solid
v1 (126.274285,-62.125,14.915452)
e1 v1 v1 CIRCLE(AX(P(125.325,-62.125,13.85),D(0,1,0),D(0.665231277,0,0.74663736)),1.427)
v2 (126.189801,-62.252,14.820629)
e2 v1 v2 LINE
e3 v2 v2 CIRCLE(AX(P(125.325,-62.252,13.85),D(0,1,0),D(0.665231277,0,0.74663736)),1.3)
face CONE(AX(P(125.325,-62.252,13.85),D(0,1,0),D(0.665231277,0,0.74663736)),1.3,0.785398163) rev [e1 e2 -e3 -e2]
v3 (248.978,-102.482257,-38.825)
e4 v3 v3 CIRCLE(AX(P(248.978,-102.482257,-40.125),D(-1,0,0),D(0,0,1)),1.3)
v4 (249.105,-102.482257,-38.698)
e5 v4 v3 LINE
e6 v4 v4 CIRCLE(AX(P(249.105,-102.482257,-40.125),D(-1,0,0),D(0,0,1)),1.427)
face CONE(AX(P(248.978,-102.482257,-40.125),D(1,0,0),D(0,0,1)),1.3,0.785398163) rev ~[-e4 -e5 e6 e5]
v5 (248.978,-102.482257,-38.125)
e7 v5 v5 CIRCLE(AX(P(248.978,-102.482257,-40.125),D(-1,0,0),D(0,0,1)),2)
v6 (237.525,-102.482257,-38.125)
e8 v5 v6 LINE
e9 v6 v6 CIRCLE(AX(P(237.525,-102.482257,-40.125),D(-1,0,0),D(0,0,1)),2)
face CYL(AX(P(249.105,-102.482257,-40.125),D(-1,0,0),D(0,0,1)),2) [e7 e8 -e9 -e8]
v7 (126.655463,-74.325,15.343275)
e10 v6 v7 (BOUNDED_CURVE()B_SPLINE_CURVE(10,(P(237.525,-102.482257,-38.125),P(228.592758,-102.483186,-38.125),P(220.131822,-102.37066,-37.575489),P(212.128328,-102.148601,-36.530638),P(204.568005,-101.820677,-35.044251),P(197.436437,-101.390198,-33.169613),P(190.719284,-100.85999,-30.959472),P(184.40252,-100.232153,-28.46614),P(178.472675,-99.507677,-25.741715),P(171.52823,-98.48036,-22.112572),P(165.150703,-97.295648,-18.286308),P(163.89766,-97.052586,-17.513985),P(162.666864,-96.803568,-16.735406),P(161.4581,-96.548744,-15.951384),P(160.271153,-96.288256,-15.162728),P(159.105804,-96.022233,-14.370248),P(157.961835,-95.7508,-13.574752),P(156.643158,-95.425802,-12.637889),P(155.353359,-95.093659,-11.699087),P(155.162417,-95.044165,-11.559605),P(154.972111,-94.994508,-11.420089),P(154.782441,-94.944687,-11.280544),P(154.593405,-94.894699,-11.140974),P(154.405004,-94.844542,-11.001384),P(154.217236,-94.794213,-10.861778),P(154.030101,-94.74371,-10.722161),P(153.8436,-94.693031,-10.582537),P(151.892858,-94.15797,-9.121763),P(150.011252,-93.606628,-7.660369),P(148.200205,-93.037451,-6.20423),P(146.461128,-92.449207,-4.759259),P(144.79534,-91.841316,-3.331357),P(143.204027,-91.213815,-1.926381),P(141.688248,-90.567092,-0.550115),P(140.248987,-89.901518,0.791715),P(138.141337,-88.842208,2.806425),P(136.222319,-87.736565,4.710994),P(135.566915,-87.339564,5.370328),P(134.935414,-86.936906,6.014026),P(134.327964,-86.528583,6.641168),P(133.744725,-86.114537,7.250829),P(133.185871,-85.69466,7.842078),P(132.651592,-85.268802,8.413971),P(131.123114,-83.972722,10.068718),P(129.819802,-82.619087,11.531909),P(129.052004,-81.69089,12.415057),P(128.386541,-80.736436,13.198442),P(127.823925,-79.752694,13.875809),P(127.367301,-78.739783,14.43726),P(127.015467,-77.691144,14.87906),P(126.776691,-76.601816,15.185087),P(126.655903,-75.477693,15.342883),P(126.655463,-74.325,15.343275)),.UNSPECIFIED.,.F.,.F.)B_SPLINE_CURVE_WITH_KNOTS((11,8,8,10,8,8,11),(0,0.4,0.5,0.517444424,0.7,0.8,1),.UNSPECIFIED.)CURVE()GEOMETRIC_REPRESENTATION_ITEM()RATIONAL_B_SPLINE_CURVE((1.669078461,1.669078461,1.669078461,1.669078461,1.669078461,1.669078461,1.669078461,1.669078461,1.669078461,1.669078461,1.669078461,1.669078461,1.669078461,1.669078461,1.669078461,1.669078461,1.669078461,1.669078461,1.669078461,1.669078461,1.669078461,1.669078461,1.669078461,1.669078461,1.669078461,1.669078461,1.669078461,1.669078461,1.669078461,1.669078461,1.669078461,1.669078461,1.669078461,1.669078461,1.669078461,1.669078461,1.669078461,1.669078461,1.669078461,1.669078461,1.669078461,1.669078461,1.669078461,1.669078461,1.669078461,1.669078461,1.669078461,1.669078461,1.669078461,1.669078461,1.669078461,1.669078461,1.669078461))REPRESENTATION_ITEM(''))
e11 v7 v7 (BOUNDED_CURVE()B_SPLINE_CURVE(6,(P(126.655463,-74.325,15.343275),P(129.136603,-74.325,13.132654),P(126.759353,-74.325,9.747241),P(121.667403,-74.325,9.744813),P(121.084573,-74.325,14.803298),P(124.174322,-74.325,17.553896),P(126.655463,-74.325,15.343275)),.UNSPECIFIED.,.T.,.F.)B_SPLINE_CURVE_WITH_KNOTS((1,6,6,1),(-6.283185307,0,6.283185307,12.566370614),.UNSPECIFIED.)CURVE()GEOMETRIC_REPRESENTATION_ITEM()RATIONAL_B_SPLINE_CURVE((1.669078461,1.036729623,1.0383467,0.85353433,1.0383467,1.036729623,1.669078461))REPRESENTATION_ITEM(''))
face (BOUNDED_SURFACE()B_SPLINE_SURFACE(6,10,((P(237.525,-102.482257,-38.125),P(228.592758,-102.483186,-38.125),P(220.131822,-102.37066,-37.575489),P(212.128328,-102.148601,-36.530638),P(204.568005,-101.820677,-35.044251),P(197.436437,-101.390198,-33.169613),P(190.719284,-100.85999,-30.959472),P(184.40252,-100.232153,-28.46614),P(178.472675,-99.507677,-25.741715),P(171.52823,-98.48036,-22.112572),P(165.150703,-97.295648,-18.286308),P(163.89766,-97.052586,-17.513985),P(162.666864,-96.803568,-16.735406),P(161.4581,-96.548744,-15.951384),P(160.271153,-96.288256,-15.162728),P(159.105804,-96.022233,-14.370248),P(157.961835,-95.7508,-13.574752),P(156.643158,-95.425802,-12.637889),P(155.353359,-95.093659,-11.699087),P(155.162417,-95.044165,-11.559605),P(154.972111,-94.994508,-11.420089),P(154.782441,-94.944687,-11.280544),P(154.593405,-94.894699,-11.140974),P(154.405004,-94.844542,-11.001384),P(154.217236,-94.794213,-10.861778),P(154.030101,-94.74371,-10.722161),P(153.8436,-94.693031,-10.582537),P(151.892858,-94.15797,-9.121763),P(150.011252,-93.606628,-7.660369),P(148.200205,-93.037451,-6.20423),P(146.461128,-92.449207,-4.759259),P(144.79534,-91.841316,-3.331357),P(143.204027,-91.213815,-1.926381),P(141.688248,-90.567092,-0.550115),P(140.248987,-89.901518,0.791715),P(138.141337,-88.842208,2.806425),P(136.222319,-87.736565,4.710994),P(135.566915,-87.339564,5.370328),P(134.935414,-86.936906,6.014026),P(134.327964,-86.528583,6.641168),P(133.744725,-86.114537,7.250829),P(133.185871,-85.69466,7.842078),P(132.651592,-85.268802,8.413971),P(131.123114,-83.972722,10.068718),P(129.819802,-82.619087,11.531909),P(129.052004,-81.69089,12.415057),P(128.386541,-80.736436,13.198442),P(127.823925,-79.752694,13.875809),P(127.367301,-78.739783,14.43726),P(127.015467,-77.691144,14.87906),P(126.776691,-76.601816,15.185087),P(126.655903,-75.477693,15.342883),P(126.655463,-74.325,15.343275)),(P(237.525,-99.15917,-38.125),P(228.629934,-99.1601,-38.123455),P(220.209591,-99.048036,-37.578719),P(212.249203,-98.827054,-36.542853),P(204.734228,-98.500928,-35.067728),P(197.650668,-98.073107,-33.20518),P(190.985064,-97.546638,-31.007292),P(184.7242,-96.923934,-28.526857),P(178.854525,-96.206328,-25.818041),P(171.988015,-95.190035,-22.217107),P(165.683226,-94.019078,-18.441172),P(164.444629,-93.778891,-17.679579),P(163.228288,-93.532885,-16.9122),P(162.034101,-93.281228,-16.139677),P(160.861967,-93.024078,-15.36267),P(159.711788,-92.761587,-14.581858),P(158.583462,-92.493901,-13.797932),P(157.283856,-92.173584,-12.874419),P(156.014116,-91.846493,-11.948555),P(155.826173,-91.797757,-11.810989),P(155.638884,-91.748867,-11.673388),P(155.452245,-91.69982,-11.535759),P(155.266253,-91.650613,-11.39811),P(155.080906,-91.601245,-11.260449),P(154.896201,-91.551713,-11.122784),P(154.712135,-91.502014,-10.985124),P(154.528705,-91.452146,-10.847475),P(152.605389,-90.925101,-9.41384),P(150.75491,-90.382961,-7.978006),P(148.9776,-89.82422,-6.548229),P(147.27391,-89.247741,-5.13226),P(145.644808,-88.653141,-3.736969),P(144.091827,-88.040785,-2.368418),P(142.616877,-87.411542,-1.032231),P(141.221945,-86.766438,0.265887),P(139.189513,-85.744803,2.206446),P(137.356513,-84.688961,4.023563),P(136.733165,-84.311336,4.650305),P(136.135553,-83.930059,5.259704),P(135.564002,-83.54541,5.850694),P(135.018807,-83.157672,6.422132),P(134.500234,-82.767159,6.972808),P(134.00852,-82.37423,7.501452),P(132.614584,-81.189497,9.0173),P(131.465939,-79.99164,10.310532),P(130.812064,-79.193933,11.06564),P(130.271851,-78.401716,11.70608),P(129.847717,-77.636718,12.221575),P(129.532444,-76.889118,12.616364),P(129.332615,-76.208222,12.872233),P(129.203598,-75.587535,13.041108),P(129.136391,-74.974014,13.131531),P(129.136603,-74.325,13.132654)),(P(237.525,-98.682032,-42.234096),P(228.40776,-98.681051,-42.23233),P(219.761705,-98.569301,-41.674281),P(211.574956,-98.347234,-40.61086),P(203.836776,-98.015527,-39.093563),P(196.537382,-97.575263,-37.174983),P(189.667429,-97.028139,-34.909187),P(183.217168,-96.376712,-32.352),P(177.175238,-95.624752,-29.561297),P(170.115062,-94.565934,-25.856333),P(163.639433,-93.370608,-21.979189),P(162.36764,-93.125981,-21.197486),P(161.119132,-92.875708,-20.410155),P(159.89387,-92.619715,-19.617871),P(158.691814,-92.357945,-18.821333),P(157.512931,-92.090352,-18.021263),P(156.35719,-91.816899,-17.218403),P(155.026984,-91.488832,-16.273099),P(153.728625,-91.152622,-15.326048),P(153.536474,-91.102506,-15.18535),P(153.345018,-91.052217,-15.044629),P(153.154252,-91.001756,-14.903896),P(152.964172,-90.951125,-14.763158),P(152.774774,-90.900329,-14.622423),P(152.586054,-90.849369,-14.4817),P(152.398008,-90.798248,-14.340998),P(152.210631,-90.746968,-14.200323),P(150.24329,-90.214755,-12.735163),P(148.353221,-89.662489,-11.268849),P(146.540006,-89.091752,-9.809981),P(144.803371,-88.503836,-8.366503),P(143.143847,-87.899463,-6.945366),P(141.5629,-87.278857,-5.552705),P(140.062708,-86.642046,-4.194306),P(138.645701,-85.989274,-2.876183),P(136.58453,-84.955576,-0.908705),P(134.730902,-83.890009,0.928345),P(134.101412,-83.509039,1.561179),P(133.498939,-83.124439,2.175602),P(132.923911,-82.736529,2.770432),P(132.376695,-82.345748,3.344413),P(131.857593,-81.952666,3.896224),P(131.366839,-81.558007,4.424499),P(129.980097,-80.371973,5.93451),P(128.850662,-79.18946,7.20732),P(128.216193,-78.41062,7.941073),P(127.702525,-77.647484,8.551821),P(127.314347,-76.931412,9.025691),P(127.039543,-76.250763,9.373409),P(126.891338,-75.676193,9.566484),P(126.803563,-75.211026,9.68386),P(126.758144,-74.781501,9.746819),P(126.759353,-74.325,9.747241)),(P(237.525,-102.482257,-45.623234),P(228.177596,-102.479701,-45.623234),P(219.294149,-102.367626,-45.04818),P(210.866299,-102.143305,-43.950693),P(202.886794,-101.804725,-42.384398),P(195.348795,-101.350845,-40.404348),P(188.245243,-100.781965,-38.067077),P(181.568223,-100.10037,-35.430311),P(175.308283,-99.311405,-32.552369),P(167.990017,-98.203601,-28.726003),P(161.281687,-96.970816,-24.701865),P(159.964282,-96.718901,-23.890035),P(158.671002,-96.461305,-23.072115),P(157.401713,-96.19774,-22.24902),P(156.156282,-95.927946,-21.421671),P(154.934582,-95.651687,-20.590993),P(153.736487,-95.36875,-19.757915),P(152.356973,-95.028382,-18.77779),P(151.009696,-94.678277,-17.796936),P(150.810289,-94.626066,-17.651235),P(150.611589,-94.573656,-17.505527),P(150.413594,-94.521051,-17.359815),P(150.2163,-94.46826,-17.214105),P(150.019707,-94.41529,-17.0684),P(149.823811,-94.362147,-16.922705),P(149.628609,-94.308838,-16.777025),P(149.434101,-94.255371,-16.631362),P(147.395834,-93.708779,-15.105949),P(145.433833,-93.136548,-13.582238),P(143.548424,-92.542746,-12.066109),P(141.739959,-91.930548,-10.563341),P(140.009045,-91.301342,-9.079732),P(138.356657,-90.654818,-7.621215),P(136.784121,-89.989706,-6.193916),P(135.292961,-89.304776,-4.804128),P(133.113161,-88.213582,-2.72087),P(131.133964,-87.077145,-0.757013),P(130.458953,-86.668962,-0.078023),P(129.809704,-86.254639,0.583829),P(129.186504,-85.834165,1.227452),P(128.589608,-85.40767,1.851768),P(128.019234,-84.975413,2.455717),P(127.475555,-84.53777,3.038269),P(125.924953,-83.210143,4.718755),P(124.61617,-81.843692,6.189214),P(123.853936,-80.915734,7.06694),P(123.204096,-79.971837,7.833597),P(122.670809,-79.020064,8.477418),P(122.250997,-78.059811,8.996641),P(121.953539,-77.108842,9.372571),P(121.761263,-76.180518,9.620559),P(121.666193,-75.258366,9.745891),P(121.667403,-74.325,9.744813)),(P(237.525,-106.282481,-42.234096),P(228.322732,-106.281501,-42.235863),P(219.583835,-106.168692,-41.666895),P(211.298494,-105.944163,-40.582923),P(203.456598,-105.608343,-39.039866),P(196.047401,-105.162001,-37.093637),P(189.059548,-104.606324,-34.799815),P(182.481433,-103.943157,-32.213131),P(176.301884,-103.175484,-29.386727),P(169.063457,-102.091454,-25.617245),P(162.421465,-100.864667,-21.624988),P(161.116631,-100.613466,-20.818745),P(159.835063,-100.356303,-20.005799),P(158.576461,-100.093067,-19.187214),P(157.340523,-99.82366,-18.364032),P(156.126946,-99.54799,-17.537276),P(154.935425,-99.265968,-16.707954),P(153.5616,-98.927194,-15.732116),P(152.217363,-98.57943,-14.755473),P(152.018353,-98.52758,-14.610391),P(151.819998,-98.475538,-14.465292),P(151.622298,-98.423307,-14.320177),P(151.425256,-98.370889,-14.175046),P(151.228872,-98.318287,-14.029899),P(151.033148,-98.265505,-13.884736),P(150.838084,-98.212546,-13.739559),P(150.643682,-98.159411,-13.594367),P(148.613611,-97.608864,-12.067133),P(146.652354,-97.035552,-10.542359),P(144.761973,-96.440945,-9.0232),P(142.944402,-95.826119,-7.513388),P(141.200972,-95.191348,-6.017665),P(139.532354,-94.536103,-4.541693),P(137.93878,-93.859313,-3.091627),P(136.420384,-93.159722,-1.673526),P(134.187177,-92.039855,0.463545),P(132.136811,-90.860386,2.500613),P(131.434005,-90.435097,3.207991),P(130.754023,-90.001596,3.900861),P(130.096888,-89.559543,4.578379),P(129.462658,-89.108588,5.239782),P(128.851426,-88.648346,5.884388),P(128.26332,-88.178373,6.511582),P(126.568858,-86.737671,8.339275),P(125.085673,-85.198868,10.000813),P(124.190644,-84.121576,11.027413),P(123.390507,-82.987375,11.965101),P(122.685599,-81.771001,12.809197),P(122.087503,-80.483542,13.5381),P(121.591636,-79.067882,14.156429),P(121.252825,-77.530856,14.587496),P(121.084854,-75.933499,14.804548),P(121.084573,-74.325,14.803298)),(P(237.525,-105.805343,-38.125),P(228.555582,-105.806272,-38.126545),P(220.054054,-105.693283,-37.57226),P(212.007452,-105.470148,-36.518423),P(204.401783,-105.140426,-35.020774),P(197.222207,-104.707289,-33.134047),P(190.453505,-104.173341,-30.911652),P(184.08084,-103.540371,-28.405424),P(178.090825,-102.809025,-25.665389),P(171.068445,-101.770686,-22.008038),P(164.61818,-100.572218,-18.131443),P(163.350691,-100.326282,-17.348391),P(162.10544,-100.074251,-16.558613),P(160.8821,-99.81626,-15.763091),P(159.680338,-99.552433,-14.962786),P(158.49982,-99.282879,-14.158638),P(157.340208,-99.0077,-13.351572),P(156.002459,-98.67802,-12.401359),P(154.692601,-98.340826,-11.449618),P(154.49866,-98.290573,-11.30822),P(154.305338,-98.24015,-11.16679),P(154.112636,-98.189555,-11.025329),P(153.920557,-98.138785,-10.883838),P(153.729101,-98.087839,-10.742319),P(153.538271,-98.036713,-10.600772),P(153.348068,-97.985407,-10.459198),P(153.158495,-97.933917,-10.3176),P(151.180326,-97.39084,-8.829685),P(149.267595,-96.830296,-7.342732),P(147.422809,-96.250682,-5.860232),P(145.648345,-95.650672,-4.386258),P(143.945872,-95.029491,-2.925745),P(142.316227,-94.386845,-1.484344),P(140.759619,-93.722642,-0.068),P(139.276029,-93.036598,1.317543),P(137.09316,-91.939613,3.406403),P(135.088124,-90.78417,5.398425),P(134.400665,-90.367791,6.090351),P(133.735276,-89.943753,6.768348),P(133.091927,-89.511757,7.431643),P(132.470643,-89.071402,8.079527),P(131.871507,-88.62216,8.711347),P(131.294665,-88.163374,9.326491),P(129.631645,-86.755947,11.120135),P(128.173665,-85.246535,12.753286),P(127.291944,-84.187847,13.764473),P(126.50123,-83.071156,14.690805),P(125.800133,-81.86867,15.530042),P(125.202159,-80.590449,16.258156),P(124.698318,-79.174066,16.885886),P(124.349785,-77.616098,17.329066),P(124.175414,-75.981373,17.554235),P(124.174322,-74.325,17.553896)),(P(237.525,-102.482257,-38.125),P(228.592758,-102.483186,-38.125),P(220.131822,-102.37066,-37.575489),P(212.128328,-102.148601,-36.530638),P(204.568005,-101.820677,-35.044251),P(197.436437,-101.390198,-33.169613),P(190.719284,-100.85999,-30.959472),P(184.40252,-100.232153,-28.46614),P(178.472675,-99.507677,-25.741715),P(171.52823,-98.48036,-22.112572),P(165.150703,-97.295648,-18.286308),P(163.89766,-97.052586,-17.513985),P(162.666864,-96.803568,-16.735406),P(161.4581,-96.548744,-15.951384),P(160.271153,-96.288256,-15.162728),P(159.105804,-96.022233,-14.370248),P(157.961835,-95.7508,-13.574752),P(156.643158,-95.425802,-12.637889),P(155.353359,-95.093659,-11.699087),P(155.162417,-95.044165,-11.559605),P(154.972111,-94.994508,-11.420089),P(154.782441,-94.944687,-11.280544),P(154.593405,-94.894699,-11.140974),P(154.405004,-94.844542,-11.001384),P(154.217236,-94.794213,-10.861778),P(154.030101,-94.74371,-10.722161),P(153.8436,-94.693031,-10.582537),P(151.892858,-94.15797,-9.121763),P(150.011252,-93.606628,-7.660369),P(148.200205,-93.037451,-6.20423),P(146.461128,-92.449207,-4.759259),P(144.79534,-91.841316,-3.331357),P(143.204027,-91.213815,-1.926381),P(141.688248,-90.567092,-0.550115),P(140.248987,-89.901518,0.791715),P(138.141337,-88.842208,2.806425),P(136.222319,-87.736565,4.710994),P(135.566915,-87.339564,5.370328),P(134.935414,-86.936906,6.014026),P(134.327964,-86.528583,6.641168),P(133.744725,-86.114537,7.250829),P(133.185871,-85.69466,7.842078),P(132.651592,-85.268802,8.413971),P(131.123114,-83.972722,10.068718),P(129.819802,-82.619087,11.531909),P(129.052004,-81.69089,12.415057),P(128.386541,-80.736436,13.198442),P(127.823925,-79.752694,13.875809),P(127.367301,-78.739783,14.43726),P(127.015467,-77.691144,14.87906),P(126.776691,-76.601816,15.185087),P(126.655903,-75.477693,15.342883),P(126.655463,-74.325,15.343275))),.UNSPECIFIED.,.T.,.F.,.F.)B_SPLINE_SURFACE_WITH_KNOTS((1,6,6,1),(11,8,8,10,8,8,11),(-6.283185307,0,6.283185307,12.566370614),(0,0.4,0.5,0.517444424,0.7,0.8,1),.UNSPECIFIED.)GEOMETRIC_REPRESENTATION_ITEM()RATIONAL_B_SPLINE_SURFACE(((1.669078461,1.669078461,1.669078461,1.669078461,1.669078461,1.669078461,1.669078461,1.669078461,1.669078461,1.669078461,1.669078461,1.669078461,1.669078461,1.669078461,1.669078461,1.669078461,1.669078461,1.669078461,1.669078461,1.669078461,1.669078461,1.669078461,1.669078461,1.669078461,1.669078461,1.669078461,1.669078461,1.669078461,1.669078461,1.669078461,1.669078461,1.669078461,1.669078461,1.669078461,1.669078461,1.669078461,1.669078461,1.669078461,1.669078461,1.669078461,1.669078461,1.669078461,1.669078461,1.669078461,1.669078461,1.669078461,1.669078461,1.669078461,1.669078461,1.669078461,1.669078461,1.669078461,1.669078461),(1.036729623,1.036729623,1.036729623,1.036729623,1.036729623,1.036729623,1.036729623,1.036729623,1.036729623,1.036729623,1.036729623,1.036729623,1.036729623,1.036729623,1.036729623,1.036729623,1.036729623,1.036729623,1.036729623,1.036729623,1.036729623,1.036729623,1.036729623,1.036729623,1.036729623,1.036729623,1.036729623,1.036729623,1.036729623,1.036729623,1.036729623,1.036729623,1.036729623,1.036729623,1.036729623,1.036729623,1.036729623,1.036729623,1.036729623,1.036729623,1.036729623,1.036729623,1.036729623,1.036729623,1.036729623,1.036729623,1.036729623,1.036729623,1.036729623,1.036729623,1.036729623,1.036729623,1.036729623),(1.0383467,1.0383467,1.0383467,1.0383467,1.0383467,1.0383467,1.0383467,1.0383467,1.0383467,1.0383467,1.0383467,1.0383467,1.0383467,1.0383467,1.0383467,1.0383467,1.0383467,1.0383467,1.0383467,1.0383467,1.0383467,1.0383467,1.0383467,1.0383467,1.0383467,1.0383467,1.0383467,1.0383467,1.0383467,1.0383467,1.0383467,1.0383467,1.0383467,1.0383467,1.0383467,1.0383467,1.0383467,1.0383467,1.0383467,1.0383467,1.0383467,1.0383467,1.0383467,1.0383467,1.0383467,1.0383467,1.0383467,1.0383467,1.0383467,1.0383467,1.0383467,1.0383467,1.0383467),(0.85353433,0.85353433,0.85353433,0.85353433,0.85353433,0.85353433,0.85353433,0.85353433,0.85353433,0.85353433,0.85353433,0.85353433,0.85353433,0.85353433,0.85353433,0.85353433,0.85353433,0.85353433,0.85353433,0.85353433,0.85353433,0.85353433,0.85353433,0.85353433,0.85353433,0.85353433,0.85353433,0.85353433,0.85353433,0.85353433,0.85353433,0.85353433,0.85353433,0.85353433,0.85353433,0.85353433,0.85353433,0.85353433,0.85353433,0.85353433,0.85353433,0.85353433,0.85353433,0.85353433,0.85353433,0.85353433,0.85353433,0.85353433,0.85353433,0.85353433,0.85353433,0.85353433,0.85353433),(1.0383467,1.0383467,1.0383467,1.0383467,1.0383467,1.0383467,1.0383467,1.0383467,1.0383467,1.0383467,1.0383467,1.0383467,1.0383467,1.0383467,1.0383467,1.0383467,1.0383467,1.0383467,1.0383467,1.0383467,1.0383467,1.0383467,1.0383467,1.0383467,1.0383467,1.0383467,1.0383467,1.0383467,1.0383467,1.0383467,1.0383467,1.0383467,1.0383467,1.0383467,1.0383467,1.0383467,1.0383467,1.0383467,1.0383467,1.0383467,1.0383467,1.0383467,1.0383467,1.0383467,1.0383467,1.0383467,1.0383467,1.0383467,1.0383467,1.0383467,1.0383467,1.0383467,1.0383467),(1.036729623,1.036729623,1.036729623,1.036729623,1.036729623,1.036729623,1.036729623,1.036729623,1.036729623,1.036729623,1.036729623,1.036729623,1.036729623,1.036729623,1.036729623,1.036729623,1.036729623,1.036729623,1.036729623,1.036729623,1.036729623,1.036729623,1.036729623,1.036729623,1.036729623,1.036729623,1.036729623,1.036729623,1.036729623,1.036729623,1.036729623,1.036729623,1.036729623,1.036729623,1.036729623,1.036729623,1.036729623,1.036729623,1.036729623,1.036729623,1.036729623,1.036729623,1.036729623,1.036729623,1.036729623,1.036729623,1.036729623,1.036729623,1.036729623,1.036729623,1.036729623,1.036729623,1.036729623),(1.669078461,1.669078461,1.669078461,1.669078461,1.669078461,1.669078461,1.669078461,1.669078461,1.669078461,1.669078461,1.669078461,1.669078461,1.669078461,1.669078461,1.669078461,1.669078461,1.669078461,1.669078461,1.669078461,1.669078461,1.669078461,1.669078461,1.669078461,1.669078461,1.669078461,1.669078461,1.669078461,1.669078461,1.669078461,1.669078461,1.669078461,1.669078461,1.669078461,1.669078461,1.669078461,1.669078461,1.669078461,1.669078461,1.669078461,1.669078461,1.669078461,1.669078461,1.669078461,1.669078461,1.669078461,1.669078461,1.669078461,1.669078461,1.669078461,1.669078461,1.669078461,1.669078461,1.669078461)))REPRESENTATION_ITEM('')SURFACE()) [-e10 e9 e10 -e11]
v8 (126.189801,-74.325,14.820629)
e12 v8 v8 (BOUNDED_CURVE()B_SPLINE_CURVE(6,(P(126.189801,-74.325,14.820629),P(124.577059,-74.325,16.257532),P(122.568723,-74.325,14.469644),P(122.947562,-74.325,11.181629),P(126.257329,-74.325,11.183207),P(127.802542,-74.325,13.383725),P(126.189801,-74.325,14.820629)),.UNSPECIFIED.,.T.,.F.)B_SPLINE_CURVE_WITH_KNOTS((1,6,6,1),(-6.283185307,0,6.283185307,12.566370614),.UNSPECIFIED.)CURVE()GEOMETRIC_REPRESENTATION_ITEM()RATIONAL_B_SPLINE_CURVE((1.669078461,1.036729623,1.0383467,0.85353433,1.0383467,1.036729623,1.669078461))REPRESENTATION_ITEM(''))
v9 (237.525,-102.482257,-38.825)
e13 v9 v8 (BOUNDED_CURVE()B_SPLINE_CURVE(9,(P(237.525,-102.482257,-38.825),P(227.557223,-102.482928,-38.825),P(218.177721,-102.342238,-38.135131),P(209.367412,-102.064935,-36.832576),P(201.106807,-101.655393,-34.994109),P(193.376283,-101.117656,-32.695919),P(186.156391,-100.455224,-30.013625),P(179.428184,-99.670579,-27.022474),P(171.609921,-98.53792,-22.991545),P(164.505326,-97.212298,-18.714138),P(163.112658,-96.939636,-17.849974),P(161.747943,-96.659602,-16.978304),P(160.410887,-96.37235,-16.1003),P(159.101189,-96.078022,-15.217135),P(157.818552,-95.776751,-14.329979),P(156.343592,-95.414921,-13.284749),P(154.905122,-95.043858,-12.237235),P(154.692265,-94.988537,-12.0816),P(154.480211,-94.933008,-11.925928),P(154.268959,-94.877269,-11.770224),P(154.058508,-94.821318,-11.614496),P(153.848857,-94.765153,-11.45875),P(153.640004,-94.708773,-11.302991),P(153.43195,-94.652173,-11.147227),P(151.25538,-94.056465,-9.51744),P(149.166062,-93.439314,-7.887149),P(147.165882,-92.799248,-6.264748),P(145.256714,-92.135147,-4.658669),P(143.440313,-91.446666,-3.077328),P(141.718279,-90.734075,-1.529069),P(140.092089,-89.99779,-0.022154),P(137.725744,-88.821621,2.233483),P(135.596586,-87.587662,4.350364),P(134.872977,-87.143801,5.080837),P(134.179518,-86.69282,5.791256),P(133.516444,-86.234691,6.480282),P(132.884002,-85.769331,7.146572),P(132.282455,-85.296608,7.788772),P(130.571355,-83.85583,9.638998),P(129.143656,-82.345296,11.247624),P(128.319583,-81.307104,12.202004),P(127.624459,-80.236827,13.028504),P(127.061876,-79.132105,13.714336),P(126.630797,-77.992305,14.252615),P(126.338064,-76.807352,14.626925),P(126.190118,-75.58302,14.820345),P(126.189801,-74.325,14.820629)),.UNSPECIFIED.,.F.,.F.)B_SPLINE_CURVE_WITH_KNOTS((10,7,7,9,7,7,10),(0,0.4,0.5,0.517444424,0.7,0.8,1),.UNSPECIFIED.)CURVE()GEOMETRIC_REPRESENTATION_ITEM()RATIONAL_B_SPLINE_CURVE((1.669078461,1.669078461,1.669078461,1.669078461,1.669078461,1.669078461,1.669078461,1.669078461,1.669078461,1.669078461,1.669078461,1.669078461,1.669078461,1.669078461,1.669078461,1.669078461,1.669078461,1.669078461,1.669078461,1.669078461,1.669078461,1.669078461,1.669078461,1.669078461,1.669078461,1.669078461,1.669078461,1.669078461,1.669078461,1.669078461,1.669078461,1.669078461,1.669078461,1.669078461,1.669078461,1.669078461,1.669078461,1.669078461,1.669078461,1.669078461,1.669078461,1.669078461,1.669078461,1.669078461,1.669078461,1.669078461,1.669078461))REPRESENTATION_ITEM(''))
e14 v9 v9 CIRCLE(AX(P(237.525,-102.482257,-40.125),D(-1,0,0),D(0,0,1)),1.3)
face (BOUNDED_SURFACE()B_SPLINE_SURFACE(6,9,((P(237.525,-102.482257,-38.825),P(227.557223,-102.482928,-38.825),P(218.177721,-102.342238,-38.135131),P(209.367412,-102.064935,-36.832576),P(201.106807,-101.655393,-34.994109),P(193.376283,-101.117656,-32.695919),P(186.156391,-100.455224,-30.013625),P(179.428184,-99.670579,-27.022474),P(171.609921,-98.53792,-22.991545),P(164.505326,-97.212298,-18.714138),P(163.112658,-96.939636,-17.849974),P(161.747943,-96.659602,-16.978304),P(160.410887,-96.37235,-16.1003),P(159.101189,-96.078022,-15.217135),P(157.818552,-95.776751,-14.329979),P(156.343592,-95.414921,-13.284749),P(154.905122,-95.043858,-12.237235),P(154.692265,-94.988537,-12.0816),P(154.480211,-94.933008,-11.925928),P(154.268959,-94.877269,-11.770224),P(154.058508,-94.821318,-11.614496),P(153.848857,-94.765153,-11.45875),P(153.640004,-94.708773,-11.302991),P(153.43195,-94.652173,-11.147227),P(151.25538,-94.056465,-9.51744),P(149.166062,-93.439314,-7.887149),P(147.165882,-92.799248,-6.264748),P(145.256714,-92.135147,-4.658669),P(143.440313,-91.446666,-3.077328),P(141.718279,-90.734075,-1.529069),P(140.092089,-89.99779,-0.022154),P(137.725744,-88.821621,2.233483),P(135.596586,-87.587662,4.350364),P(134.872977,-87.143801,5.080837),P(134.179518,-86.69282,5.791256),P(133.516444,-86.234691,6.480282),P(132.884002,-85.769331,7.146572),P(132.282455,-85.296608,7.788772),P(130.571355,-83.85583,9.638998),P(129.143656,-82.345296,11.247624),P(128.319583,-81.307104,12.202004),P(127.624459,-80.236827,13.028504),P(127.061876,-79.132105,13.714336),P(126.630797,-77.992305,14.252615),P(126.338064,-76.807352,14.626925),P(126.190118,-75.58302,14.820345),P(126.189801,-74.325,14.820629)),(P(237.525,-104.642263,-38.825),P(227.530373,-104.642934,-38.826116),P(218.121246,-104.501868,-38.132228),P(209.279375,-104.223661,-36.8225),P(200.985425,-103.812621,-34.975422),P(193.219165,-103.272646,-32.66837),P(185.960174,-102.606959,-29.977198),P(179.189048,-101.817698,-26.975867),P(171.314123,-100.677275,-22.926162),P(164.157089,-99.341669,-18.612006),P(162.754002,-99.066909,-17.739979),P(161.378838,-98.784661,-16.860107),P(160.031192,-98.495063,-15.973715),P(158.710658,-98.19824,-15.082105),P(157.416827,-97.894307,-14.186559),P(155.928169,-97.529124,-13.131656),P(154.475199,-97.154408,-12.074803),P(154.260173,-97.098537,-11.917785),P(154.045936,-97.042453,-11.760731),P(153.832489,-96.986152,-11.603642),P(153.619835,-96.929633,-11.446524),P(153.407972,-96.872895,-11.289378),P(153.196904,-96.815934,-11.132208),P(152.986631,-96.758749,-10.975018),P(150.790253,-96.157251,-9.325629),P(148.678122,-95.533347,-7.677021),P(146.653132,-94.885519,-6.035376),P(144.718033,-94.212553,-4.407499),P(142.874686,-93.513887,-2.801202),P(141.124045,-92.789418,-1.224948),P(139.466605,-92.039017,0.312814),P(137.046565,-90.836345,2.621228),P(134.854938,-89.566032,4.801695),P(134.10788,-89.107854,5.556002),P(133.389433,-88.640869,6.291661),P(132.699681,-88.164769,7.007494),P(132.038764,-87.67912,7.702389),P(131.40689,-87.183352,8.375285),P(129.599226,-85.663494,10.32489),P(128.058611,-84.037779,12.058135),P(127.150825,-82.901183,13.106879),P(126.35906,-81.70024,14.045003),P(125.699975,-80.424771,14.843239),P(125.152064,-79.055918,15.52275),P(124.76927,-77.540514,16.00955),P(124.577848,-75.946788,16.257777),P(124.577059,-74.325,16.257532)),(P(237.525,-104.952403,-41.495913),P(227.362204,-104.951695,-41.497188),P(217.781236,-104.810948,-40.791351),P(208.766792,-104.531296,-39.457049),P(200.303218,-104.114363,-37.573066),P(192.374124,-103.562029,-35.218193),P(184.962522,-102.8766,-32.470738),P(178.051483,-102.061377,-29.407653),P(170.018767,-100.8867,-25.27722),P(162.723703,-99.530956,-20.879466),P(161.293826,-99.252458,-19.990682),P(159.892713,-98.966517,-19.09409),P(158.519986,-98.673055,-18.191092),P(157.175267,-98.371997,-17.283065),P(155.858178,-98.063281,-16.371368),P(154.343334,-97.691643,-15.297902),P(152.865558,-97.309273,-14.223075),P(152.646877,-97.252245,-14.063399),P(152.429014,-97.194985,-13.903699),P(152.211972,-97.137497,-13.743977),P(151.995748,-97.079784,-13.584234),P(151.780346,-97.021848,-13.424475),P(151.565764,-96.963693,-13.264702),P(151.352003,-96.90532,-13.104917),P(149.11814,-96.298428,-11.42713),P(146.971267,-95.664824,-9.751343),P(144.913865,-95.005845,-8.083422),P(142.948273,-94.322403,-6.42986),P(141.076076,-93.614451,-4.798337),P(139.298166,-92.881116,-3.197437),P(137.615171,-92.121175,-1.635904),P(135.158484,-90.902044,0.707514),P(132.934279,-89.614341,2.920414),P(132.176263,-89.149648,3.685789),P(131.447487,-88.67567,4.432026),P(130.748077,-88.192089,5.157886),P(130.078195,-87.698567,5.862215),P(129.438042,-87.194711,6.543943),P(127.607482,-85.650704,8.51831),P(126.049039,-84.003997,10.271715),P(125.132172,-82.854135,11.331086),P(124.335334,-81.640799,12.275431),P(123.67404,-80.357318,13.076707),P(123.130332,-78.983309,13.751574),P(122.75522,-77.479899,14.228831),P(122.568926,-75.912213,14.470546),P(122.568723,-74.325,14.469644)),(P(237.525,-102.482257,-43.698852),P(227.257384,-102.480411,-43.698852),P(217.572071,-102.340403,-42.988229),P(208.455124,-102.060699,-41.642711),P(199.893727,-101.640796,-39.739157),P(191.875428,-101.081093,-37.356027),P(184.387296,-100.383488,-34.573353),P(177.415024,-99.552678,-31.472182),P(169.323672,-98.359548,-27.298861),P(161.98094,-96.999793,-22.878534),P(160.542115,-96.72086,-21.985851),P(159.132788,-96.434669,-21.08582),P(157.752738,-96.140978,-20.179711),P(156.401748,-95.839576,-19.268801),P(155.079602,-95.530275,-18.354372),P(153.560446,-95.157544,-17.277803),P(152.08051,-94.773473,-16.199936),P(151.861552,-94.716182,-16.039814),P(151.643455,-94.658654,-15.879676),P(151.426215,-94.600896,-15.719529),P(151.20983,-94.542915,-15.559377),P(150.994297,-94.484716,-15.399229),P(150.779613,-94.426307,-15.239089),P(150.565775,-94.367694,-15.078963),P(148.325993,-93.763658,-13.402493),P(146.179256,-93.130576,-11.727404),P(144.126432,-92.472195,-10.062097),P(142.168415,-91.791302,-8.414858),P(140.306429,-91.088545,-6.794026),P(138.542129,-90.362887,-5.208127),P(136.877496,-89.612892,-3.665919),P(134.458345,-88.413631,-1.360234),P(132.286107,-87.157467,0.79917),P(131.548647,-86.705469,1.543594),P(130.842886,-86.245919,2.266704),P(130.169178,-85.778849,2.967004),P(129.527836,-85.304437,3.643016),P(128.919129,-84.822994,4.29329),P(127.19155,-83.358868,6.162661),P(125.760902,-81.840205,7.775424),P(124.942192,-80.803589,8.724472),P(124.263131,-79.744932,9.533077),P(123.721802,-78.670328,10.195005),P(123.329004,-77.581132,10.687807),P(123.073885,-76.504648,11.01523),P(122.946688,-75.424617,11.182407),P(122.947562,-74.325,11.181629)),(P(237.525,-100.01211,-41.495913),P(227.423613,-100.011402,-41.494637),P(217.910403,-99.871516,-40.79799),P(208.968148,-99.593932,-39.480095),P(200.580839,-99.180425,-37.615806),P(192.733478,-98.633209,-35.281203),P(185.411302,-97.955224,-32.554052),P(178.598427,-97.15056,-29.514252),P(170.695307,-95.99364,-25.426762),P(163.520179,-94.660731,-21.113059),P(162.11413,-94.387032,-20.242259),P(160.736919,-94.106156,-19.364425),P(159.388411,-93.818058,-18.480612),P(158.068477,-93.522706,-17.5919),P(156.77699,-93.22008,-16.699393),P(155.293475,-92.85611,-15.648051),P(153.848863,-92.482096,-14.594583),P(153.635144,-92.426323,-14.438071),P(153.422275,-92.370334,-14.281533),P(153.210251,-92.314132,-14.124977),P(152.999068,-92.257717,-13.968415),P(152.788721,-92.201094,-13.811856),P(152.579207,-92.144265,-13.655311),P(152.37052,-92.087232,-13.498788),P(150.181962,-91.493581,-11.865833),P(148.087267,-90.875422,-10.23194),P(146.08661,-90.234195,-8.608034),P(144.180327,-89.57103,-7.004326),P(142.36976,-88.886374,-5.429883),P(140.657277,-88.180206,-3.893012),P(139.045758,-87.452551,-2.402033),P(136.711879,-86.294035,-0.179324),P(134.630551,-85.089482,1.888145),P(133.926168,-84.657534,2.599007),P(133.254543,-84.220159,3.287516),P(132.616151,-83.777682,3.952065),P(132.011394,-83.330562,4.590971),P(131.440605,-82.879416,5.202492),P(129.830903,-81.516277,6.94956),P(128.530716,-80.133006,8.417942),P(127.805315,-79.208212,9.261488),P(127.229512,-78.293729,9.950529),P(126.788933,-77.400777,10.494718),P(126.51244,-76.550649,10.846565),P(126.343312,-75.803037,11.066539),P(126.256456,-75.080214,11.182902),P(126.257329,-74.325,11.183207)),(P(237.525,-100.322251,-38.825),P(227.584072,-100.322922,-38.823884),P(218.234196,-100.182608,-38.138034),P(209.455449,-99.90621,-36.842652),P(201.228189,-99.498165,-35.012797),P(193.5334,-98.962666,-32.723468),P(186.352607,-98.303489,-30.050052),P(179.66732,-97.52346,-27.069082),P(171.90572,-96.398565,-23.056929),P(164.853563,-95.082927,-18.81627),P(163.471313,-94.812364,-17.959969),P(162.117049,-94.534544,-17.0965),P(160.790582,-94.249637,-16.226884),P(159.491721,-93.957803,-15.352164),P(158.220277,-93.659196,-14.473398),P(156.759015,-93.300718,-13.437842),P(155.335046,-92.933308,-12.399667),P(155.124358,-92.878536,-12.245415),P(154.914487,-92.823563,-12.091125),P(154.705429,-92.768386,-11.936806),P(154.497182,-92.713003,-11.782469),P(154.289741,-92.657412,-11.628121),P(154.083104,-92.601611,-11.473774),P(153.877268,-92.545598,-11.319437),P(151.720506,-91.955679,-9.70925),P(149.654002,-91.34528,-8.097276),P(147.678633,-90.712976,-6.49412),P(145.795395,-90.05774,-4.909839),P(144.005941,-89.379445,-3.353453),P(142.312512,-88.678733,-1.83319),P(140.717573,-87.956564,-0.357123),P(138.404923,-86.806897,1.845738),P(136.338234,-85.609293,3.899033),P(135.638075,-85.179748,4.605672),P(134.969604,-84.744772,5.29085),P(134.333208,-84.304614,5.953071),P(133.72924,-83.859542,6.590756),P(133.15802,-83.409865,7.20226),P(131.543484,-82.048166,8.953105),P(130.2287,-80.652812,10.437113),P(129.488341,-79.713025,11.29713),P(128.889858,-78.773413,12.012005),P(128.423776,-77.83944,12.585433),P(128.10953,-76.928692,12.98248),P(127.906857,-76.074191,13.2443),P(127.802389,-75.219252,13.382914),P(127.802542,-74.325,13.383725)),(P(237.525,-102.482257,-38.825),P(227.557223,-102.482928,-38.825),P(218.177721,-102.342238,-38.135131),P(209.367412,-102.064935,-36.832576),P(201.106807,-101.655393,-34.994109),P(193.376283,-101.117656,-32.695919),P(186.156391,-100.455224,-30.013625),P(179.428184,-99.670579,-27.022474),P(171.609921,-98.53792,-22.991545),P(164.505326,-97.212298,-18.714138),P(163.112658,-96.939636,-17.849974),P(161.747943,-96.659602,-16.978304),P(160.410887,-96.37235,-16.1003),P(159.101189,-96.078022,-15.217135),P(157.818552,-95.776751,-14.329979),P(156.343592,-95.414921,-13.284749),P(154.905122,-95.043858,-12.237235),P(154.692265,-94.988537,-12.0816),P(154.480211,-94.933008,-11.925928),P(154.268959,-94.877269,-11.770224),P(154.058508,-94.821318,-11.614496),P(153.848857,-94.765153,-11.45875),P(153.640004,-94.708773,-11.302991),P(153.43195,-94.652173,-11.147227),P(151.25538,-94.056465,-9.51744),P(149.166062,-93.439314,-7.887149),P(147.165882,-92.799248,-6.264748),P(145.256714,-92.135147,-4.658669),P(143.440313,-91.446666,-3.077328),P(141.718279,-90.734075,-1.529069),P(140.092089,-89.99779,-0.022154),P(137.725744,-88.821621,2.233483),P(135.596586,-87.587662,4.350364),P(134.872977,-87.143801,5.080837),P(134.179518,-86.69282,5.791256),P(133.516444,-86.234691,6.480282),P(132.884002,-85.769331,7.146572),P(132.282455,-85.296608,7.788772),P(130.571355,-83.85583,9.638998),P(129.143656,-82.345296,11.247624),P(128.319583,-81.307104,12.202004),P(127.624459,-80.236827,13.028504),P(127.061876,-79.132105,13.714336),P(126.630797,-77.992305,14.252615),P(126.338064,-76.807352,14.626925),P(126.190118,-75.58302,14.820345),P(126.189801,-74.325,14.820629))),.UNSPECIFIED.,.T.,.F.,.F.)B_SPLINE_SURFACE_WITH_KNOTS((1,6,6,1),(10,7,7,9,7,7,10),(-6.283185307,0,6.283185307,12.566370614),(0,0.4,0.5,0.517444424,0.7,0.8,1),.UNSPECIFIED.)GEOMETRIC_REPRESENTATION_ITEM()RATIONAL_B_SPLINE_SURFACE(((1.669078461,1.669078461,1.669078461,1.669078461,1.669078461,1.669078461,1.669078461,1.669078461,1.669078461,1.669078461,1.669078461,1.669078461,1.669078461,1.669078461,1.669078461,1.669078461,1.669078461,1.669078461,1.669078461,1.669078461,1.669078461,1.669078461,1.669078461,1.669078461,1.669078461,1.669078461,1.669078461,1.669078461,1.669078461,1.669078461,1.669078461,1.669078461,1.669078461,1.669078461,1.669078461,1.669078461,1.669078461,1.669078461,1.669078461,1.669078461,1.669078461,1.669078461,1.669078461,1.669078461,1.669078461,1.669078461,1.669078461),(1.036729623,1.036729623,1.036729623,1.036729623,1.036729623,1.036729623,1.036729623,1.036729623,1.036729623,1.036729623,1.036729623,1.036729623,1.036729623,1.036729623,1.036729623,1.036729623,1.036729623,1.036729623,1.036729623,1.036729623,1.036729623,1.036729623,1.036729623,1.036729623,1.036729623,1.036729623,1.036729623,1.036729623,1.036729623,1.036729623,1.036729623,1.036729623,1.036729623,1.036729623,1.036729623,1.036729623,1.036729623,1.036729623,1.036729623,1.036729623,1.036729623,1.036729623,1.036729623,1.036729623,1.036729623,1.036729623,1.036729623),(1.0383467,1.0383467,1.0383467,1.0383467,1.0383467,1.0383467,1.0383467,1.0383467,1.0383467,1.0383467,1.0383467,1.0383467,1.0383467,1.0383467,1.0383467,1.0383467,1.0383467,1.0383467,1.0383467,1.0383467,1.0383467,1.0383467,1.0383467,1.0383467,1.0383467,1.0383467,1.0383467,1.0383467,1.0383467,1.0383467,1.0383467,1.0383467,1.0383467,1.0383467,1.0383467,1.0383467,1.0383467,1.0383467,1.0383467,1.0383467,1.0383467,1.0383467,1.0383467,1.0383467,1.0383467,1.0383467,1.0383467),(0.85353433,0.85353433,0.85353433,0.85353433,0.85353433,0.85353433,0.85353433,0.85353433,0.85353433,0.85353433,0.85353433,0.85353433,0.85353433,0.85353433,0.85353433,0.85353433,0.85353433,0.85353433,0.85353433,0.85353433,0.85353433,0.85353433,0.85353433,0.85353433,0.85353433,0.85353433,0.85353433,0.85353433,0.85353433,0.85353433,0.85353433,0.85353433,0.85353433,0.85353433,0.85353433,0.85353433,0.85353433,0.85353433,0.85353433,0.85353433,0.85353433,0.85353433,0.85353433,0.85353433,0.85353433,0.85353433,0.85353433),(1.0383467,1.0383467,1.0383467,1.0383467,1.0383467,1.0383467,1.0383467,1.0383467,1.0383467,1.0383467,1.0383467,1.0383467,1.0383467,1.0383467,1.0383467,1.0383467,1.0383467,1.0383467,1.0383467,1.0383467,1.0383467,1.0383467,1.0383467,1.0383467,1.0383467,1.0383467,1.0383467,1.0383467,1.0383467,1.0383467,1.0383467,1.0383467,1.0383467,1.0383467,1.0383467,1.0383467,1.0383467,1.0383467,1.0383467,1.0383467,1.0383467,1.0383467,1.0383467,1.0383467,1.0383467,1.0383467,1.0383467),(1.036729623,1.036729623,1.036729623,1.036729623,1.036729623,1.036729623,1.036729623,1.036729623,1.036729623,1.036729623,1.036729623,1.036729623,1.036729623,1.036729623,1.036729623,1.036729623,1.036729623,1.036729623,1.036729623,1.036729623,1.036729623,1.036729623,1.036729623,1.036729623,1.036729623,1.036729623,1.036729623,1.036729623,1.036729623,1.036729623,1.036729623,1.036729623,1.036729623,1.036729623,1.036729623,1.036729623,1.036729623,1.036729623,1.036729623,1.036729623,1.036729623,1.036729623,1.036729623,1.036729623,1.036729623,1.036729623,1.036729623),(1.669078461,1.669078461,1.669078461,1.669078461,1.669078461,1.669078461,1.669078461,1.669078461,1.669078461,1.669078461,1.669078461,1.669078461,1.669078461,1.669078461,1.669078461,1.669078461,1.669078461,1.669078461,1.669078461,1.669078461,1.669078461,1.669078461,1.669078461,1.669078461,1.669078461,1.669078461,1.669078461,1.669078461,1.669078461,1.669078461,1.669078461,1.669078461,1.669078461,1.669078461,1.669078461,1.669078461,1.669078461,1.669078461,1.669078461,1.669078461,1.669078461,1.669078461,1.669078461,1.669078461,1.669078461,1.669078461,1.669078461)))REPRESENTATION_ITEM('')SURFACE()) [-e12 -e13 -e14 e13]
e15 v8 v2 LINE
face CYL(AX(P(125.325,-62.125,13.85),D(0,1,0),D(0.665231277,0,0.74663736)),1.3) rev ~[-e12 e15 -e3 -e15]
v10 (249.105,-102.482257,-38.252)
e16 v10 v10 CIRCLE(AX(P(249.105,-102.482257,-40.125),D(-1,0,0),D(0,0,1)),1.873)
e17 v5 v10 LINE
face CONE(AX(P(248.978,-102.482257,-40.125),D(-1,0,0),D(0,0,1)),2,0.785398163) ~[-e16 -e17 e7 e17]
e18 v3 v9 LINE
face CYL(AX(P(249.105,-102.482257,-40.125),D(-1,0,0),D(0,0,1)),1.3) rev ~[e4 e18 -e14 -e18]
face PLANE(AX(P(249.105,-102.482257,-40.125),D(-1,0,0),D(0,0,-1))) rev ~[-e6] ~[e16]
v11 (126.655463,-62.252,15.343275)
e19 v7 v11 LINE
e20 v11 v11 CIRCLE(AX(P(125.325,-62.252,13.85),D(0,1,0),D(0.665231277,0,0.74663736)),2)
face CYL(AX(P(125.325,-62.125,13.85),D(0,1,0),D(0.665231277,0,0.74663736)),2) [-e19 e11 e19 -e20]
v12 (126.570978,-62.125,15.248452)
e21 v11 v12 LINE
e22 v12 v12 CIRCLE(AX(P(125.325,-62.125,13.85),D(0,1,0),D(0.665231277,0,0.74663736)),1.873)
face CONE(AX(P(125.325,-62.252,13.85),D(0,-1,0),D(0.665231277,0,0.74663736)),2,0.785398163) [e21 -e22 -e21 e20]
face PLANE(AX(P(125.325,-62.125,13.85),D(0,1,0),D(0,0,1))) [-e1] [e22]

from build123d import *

# Parameters (mm, degrees)
SKETCH1_R     = 2
SKETCH1_R_2   = 1.3
CHAMFER1_SIZE = 0.127


with BuildPart() as part:
    # Sweep1: sweep along a curve in space
    with BuildLine() as sweep1_path:
        Line((249.105, -102.482256564, -40.125), (237.525, -102.482256564, -40.125))
        add(Edge.make_bspline(
            [(237.525, -102.482256564, -40.125), (198.531346094, -102.482256564, -40.125), (145.941364972, -97.0293802, -13.1375), (125.325, -83.12514271, 13.85), (125.325, -74.325, 13.85)],
            knots=[0, 0, 0, 0, 0.517444424, 1, 1, 1, 1], degree=3))
        Line((125.325, -62.125, 13.85), (125.325, -74.325, 13.85))
    # Sketch1 → Sweep1 (sweep)
    with BuildSketch(Plane.ZY.offset(-239.725)):
        with Locations((-40.125, -102.482256564)):
            Circle(SKETCH1_R)
        with Locations((-40.125, -102.482256564)):
            Circle(SKETCH1_R_2, mode=Mode.SUBTRACT)
    sweep(path=sweep1_path.line)

    # Chamfer1
    chamfer1_edges = [part.edges().sort_by_distance(p)[0] for p in [
        (249.105, -102.482256564, -41.425),
        (249.105, -102.482256564, -42.125),
        (124.46019934, -62.125, 12.879371431),
        (123.994537446, -62.125, 12.356725279),
    ]]
    chamfer(chamfer1_edges, length=CHAMFER1_SIZE)


solid = part.part
